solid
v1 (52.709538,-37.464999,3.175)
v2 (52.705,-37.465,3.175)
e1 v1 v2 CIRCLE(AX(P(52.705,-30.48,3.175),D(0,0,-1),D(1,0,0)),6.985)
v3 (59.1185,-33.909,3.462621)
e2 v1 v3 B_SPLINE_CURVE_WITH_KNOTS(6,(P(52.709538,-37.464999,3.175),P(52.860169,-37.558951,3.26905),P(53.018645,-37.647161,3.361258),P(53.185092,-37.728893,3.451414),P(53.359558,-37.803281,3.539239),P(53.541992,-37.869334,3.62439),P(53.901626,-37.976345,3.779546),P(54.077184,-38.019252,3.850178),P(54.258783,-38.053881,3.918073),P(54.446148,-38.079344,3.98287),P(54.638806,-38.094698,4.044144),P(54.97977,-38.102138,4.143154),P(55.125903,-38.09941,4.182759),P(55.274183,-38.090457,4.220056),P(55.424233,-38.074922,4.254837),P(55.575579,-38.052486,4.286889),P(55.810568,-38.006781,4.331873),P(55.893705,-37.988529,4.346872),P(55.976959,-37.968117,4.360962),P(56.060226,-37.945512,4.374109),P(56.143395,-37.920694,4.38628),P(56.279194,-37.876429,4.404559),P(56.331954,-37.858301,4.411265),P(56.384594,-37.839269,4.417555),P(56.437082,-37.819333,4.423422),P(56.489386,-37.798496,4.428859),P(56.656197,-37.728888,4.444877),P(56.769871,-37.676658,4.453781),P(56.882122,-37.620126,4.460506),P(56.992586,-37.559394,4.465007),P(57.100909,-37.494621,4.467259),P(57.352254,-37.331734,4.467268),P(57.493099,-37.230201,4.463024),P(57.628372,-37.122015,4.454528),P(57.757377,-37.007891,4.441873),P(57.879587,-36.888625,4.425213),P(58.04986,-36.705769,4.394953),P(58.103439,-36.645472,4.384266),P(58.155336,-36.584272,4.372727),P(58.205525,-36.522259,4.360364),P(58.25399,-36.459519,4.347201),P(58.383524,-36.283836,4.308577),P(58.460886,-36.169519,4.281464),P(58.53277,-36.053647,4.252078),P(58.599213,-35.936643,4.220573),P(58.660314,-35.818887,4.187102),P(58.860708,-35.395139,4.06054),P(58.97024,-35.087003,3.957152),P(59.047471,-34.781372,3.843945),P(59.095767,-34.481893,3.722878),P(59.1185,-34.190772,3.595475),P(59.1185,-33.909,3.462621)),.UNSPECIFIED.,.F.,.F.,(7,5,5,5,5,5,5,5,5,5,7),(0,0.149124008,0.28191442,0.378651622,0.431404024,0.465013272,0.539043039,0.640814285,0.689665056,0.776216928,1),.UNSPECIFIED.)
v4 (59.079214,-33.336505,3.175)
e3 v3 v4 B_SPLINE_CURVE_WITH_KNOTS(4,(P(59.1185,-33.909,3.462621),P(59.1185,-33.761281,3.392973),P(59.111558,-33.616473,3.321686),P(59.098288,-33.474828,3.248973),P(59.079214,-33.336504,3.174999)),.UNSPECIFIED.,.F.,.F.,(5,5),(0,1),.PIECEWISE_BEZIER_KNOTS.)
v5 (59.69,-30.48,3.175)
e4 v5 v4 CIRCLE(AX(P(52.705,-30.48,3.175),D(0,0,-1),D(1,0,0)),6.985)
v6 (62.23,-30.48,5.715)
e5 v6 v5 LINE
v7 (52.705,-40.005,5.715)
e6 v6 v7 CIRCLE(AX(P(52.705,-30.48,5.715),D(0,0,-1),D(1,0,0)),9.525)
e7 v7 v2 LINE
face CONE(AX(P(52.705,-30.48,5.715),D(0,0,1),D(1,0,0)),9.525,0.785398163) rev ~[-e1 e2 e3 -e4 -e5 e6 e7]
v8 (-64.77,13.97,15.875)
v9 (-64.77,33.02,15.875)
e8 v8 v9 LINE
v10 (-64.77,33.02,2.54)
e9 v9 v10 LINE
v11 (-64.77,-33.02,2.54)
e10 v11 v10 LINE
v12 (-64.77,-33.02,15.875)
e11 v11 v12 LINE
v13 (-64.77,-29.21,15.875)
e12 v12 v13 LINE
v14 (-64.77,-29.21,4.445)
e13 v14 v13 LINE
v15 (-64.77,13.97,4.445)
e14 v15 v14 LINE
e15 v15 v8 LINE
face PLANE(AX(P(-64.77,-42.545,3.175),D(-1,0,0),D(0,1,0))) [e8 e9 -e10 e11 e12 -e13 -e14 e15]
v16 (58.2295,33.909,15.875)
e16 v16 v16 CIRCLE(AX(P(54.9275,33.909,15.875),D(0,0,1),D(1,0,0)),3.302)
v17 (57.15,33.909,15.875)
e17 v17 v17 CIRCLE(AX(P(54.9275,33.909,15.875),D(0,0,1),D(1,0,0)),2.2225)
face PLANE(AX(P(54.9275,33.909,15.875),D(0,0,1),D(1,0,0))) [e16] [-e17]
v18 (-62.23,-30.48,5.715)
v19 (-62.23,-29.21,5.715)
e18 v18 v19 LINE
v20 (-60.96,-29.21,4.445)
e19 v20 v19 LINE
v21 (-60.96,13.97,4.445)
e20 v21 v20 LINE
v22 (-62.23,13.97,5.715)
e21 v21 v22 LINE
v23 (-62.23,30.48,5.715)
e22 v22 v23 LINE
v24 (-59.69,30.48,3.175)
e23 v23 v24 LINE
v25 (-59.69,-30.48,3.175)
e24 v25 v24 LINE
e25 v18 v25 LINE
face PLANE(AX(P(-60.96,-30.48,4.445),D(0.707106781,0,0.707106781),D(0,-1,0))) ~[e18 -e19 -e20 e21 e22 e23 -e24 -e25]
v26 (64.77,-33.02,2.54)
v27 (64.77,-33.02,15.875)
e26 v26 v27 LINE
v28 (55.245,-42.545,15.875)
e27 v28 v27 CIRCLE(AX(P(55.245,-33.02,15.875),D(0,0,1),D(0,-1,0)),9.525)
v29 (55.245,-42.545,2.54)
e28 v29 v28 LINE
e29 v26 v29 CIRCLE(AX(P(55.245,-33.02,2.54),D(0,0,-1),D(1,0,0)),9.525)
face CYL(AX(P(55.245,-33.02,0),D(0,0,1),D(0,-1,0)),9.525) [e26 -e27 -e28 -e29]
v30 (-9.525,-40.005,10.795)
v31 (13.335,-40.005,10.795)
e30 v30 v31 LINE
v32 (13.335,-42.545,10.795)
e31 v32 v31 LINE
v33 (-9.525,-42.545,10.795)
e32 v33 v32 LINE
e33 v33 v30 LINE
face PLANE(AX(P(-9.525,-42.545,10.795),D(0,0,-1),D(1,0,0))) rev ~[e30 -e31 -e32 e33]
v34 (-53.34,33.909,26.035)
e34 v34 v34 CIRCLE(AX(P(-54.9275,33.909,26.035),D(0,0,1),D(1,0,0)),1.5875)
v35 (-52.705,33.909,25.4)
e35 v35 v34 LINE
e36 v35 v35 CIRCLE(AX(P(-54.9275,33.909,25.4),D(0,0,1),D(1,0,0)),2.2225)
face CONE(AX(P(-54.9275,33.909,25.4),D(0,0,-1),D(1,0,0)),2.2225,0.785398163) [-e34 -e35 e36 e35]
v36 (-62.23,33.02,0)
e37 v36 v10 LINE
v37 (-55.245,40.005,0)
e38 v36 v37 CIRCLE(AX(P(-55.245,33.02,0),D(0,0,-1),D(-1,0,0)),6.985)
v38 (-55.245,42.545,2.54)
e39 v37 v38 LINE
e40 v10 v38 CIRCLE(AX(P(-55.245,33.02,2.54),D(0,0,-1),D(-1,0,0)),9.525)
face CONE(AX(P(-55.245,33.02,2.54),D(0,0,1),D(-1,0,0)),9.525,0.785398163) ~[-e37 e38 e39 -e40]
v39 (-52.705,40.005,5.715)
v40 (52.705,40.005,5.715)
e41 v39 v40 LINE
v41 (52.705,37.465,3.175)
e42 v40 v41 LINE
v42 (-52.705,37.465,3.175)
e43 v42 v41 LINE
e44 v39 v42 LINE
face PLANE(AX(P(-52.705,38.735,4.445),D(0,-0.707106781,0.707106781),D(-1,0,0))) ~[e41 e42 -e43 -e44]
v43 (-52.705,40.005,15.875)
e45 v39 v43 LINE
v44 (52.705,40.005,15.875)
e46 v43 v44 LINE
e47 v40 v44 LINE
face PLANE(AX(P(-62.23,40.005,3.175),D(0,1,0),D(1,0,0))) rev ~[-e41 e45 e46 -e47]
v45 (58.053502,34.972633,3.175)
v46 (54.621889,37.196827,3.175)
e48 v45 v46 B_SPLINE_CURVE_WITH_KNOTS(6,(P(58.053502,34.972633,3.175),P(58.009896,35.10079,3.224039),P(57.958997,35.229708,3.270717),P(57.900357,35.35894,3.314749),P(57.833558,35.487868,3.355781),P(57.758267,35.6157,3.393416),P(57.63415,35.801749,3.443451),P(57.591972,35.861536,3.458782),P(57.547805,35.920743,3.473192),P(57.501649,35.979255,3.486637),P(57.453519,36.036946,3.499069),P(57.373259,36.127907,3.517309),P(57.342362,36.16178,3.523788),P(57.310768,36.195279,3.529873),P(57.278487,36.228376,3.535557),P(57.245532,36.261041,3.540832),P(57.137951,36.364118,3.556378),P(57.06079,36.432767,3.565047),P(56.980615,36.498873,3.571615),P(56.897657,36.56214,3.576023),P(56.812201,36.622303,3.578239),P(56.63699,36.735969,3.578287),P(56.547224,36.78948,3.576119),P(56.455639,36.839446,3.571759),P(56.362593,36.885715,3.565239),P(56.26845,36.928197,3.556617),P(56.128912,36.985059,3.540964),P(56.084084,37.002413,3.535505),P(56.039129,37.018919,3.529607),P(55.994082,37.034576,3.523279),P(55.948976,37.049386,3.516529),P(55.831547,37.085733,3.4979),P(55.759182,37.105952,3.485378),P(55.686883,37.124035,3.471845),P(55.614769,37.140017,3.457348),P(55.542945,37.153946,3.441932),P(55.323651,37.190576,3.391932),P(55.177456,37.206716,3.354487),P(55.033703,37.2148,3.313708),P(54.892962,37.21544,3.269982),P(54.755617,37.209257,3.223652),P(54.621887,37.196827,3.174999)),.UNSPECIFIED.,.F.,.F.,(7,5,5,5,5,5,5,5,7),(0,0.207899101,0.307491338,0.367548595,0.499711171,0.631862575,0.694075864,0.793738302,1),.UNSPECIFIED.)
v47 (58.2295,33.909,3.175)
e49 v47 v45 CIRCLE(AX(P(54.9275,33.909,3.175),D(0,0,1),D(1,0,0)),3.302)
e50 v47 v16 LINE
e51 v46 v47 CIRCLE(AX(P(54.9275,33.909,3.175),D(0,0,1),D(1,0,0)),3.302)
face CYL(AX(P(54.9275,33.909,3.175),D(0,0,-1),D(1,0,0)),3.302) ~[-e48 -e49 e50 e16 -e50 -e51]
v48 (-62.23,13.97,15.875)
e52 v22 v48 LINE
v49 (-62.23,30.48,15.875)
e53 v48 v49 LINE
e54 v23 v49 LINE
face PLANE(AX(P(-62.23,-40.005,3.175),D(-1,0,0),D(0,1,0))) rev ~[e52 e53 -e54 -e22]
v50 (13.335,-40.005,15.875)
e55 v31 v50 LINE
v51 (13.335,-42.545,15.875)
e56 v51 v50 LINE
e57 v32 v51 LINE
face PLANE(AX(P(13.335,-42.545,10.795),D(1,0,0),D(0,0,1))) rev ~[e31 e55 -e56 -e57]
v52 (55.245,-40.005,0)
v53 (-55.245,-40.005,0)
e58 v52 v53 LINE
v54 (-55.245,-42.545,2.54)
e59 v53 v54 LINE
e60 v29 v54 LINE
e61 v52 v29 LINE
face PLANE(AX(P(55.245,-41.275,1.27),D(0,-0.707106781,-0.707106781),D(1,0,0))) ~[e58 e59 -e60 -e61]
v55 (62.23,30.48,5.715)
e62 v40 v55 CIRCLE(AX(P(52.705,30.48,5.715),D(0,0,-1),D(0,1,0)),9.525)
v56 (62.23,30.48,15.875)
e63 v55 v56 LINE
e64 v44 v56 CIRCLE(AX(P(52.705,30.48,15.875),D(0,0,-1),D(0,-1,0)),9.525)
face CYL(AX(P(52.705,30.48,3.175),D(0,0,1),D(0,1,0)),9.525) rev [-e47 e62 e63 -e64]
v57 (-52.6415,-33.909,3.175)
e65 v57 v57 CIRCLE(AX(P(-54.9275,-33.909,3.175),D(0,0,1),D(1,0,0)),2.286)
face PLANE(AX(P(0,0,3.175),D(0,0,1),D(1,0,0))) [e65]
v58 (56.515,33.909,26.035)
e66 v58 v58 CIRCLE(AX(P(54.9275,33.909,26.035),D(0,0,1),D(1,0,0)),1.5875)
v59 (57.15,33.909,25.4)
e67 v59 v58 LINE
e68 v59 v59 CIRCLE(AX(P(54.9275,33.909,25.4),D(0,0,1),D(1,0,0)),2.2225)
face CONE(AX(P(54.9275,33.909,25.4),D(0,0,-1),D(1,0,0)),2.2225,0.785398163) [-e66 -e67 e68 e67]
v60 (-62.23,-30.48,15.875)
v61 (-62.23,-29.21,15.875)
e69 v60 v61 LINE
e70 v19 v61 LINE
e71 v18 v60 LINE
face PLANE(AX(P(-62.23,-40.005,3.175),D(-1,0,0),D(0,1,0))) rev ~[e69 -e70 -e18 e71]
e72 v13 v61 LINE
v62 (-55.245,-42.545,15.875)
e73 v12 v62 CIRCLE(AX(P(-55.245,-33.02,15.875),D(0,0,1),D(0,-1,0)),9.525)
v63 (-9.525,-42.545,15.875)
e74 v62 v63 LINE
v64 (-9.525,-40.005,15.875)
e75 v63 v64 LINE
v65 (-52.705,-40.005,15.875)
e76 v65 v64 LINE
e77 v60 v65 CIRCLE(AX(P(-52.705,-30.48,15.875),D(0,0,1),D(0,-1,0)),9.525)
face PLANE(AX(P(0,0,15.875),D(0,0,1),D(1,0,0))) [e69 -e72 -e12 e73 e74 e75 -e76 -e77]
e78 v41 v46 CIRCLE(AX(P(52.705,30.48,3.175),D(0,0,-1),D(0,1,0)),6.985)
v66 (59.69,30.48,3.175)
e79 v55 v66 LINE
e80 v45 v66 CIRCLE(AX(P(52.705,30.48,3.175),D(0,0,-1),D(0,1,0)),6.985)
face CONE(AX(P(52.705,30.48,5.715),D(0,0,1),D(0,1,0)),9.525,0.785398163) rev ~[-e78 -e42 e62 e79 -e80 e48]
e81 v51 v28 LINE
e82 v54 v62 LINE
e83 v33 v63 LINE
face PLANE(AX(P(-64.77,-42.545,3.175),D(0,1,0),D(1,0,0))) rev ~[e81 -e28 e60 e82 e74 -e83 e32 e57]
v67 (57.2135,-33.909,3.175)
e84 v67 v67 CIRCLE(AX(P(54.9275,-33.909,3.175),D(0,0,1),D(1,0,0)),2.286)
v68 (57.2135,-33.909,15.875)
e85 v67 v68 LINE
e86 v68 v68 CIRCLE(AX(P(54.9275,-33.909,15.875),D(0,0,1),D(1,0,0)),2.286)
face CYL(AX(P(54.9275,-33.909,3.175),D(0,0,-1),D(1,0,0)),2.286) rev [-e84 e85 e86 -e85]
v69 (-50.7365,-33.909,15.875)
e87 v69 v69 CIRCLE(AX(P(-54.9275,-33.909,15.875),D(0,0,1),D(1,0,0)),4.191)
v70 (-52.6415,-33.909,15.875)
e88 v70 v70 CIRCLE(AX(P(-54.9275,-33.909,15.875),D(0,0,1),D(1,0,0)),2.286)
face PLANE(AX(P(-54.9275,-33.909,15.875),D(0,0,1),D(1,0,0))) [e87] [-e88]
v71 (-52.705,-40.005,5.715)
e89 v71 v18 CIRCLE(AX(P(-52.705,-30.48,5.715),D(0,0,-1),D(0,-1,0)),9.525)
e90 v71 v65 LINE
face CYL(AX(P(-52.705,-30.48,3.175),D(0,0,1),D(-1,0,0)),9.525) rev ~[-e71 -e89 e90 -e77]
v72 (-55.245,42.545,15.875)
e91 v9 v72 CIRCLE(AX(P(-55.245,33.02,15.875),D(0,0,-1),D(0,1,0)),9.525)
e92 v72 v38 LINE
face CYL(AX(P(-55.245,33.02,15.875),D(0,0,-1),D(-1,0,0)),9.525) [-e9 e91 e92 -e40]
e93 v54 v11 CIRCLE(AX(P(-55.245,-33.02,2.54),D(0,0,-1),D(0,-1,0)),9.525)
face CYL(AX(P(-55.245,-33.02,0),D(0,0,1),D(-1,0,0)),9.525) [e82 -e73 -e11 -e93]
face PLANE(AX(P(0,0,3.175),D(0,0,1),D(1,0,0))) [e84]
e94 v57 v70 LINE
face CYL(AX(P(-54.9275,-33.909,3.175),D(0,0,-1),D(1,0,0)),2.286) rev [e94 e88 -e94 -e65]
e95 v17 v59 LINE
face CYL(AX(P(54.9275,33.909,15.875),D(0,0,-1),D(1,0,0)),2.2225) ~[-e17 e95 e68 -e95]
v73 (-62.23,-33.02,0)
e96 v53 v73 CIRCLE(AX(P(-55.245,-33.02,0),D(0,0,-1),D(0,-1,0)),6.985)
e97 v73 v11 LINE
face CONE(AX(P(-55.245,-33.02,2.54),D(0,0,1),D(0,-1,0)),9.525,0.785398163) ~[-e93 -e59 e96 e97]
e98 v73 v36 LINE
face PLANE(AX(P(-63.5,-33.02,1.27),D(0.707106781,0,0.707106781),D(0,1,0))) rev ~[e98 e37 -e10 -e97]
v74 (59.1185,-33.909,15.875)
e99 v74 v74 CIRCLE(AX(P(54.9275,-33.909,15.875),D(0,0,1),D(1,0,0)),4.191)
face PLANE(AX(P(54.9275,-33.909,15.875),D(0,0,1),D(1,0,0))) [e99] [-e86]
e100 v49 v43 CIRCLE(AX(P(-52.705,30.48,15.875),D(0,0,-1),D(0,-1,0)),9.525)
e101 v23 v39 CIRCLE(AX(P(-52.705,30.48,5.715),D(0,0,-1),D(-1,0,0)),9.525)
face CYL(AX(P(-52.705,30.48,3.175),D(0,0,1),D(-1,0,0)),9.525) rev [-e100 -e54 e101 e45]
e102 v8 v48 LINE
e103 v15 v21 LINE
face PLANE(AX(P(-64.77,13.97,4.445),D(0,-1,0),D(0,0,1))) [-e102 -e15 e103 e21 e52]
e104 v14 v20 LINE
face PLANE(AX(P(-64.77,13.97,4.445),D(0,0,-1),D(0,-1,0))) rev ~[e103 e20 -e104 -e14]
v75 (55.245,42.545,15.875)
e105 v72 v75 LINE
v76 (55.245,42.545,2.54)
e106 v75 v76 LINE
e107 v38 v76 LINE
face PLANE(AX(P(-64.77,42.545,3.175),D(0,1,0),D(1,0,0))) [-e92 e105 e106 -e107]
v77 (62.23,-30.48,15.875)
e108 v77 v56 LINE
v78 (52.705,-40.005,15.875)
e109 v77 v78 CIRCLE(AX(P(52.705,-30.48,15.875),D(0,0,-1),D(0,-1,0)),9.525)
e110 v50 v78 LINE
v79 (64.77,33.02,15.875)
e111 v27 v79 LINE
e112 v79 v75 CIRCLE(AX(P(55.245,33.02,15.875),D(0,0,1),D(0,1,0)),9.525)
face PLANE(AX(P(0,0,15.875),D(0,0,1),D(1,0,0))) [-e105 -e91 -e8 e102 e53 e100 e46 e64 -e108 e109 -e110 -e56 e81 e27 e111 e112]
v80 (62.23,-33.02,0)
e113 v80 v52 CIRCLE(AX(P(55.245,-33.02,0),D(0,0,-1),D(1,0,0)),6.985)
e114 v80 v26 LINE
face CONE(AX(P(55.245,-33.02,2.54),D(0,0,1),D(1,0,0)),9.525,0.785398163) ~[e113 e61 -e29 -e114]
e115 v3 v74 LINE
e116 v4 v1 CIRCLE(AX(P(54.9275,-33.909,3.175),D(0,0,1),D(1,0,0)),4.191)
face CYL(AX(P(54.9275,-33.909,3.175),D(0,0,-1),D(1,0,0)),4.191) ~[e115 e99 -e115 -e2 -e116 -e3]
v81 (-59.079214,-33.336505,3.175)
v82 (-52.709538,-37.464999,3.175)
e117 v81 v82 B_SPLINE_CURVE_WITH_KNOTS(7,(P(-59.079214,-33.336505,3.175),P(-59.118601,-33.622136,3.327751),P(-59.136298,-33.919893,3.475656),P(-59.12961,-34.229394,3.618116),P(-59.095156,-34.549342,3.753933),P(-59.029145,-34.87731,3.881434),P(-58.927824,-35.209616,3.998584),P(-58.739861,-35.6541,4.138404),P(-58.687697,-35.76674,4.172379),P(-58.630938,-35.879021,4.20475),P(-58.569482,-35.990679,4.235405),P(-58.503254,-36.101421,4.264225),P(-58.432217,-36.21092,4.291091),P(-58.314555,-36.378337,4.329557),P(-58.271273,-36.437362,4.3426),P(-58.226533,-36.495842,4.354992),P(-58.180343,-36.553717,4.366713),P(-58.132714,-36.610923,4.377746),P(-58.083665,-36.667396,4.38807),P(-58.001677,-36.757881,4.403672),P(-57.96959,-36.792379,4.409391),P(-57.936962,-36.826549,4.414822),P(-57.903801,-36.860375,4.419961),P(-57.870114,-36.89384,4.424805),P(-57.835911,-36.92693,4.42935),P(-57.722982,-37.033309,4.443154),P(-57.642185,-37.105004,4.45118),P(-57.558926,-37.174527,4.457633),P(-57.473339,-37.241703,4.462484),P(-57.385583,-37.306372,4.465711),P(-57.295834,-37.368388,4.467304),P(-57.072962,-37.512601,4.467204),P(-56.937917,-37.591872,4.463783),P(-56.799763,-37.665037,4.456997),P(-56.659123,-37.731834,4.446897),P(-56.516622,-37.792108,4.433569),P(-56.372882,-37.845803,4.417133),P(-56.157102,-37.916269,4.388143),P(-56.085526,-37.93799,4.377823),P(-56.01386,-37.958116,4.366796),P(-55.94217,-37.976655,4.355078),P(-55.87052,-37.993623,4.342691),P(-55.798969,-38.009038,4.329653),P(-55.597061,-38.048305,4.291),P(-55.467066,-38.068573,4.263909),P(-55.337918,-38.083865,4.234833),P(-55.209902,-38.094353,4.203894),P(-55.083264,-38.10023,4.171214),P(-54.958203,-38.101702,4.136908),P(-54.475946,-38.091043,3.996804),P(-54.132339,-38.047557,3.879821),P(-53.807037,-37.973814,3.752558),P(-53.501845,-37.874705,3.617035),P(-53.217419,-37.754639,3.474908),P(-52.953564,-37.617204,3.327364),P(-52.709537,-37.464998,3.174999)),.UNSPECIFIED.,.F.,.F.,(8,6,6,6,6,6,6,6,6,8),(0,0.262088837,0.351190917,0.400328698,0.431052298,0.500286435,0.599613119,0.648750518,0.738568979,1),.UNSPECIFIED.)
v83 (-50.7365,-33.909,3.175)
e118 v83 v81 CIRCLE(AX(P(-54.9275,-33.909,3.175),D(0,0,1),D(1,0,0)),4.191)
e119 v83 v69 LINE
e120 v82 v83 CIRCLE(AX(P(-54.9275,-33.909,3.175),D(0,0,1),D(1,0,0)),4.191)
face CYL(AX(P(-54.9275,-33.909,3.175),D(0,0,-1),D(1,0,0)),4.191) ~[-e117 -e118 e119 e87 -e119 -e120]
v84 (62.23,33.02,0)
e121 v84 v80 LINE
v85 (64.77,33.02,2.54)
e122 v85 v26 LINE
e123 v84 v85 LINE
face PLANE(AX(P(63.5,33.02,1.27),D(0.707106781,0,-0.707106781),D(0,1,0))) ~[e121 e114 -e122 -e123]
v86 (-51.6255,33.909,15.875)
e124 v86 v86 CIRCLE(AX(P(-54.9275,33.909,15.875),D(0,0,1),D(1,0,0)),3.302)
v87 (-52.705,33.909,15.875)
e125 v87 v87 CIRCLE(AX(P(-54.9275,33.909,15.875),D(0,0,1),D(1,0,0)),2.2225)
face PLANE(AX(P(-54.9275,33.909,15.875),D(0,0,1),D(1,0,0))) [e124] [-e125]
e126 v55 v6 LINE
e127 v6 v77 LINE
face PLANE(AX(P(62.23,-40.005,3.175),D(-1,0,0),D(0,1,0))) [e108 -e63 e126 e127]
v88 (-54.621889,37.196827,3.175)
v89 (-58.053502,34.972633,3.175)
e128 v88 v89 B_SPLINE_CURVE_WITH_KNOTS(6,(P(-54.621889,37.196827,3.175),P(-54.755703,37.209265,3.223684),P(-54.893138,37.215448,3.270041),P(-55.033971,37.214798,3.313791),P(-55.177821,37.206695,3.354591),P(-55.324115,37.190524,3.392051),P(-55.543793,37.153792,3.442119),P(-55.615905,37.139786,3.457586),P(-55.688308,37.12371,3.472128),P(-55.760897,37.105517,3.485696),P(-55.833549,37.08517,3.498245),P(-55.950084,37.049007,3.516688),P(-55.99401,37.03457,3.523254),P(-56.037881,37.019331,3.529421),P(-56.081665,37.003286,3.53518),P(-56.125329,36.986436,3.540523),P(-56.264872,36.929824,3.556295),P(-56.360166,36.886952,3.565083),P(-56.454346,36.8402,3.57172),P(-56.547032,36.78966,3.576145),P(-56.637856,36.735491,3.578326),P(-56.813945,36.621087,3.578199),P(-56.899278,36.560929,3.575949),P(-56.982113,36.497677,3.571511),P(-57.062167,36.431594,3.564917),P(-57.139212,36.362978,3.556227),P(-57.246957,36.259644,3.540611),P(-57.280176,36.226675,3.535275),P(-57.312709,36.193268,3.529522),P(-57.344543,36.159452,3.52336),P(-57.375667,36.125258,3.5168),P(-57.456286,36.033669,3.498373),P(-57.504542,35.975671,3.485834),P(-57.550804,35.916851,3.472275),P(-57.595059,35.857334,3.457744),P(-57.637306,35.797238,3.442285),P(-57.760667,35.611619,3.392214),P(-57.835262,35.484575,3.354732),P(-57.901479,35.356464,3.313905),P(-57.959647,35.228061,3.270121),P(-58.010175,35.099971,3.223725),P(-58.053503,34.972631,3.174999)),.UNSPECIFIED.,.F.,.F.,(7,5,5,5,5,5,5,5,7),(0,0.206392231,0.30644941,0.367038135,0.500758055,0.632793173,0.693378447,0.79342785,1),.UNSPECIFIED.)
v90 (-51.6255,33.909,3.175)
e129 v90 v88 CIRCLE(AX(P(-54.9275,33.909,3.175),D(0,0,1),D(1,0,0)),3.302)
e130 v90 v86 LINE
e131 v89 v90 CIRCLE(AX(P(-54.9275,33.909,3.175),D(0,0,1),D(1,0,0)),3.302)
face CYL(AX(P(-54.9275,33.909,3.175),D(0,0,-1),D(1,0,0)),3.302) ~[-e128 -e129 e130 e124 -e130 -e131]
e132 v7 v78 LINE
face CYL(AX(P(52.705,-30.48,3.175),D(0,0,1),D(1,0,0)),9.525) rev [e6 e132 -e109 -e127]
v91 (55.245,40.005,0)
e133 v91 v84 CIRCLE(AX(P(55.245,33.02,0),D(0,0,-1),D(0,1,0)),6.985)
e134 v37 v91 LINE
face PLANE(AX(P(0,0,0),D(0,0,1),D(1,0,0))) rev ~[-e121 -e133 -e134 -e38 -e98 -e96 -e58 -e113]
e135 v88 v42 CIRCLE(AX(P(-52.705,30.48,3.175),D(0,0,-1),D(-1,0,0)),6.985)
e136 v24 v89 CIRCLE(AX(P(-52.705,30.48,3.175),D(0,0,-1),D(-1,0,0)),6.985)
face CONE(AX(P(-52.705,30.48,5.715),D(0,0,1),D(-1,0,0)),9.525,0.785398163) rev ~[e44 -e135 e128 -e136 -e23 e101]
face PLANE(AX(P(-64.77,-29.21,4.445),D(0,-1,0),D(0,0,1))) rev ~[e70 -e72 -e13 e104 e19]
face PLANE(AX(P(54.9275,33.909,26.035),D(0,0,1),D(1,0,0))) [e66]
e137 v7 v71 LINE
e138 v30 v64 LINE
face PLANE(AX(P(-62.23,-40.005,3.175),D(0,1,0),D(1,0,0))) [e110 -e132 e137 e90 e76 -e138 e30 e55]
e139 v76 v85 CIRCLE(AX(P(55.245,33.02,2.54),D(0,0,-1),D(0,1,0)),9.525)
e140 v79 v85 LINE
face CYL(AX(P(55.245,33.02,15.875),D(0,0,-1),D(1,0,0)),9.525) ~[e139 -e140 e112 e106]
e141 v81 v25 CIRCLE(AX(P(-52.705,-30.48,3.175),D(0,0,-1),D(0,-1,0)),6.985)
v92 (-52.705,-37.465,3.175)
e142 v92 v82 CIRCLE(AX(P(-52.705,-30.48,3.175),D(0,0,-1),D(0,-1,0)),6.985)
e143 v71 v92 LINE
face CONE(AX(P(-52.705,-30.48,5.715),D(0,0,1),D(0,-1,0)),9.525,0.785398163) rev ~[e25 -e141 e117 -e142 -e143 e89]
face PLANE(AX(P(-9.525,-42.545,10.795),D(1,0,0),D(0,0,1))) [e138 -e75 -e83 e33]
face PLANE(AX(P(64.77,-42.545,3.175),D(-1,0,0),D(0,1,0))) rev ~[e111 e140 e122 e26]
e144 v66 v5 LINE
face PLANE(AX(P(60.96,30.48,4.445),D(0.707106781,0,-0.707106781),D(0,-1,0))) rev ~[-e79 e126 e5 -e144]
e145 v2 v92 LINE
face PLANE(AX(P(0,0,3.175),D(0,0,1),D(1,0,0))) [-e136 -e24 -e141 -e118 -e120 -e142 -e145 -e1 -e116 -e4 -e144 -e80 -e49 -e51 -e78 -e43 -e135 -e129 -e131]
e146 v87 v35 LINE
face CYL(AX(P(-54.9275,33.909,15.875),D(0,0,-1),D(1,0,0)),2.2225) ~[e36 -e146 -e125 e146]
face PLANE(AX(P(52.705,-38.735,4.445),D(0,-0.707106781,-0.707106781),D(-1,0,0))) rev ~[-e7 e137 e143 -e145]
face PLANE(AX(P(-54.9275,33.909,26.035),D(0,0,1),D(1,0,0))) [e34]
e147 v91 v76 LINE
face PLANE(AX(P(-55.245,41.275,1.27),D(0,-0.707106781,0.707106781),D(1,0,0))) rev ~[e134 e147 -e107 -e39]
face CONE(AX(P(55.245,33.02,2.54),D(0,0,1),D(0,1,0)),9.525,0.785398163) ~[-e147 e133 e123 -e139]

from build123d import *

# Parameters (mm, degrees)
F0_W      = 129.54
F0_H      = 85.09
F1_DEPTH  = 3.175
F2_W      = 129.54
F2_H      = 85.09
F2_W_2    = 124.46
F2_H_2    = 80.01
F3_DEPTH  = 12.7
F4_R      = 9.525
F5_SIZE   = 2.54
F2_R      = 4.191
F2_R_2    = 2.286
F6_DEPTH  = 12.7
F2_R_3    = 3.302
F7_DEPTH  = 12.7
F9_R      = 2.2225
F10_DEPTH = 10.16
F8_R      = 2.2225
F11_DEPTH = 10.16
F13_W     = 22.86
F13_H     = 5.08
F14_DEPTH = 2.54
F12_W     = 43.18
F12_H     = 11.43
F15_DEPTH = 3.811
F16_SIZE  = 0.635
F17_SIZE  = 0.635


with BuildPart() as f1:
    # F0 (on Top) → F1 (new body)
    with BuildSketch(Plane.XY):
        Rectangle(F0_W, F0_H)
    extrude(amount=F1_DEPTH)

    # F2 (on face) → F3 (join)
    with BuildSketch(Plane.XY.offset(3.175)):
        Rectangle(F2_W, F2_H)
        Rectangle(F2_W_2, F2_H_2, mode=Mode.SUBTRACT)
    extrude(amount=F3_DEPTH)

    # F4
    f4_edges = [f1.edges().sort_by_distance(p)[0] for p in [
        (62.23, 40.005, 9.525),
        (62.23, -40.005, 9.525),
        (-62.23, -40.005, 9.525),
        (-62.23, 40.005, 9.525),
        (64.77, 42.545, 7.9375),
        (64.77, -42.545, 7.9375),
        (-64.77, -42.545, 7.9375),
        (-64.77, 42.545, 7.9375),
    ]]
    fillet(f4_edges, radius=F4_R)

    # F5
    f5_edges = [f1.edges().sort_by_distance(p)[0] for p in [
        (0, 40.005, 3.175),
        (0, 42.545, 0),
    ]]
    chamfer(f5_edges, length=F5_SIZE)

    # F2 (on face) → F6 (join)
    with BuildSketch(Plane.XY.offset(3.175)):
        with Locations((-54.9275, -33.909)):
            Circle(F2_R)
        with Locations((-54.9275, -33.909)):
            Circle(F2_R_2, mode=Mode.SUBTRACT)
        with Locations((54.9275, -33.909)):
            Circle(F2_R)
        with Locations((54.9275, -33.909)):
            Circle(F2_R_2, mode=Mode.SUBTRACT)
    extrude(amount=F6_DEPTH)

    # F2 (on face) → F7 (join)
    with BuildSketch(Plane.XY.offset(3.175)):
        with Locations((-54.9275, 33.909)):
            Circle(F2_R_3)
        with Locations((54.9275, 33.909)):
            Circle(F2_R_3)
    extrude(amount=F7_DEPTH)

    # F9 (on face) → F10 (join)
    with BuildSketch(Plane.XY.offset(15.875)):
        with Locations((-54.9275, 33.909)):
            Circle(F9_R)
    extrude(amount=F10_DEPTH)

    # F8 (on face) → F11 (join)
    with BuildSketch(Plane.XY.offset(15.875)):
        with Locations((54.9275, 33.909)):
            Circle(F8_R)
    extrude(amount=F11_DEPTH)

    # F13 (on face) → F14 (cut, through all)
    with BuildSketch(Plane.XZ.offset(42.545)):
        with Locations((1.905, 13.335)):
            Rectangle(F13_W, F13_H)
    extrude(amount=-F14_DEPTH, mode=Mode.SUBTRACT)

    # F12 (on face) → F15 (cut, through all)
    with BuildSketch(Plane(origin=(-64.77, 0, 0), x_dir=(0, -1, 0), z_dir=(-1, 0, 0))):
        with Locations((7.62, 10.16)):
            Rectangle(F12_W, F12_H)
    extrude(amount=-F15_DEPTH, mode=Mode.SUBTRACT)

    # F16
    f16_edges = [f1.edges().sort_by_distance(p)[0] for p in [
        (-57.15, 33.909, 26.035),
    ]]
    chamfer(f16_edges, length=F16_SIZE)

    # F17
    f17_edges = [f1.edges().sort_by_distance(p)[0] for p in [
        (52.705, 33.909, 26.035),
    ]]
    chamfer(f17_edges, length=F17_SIZE)


solid = f1.part
